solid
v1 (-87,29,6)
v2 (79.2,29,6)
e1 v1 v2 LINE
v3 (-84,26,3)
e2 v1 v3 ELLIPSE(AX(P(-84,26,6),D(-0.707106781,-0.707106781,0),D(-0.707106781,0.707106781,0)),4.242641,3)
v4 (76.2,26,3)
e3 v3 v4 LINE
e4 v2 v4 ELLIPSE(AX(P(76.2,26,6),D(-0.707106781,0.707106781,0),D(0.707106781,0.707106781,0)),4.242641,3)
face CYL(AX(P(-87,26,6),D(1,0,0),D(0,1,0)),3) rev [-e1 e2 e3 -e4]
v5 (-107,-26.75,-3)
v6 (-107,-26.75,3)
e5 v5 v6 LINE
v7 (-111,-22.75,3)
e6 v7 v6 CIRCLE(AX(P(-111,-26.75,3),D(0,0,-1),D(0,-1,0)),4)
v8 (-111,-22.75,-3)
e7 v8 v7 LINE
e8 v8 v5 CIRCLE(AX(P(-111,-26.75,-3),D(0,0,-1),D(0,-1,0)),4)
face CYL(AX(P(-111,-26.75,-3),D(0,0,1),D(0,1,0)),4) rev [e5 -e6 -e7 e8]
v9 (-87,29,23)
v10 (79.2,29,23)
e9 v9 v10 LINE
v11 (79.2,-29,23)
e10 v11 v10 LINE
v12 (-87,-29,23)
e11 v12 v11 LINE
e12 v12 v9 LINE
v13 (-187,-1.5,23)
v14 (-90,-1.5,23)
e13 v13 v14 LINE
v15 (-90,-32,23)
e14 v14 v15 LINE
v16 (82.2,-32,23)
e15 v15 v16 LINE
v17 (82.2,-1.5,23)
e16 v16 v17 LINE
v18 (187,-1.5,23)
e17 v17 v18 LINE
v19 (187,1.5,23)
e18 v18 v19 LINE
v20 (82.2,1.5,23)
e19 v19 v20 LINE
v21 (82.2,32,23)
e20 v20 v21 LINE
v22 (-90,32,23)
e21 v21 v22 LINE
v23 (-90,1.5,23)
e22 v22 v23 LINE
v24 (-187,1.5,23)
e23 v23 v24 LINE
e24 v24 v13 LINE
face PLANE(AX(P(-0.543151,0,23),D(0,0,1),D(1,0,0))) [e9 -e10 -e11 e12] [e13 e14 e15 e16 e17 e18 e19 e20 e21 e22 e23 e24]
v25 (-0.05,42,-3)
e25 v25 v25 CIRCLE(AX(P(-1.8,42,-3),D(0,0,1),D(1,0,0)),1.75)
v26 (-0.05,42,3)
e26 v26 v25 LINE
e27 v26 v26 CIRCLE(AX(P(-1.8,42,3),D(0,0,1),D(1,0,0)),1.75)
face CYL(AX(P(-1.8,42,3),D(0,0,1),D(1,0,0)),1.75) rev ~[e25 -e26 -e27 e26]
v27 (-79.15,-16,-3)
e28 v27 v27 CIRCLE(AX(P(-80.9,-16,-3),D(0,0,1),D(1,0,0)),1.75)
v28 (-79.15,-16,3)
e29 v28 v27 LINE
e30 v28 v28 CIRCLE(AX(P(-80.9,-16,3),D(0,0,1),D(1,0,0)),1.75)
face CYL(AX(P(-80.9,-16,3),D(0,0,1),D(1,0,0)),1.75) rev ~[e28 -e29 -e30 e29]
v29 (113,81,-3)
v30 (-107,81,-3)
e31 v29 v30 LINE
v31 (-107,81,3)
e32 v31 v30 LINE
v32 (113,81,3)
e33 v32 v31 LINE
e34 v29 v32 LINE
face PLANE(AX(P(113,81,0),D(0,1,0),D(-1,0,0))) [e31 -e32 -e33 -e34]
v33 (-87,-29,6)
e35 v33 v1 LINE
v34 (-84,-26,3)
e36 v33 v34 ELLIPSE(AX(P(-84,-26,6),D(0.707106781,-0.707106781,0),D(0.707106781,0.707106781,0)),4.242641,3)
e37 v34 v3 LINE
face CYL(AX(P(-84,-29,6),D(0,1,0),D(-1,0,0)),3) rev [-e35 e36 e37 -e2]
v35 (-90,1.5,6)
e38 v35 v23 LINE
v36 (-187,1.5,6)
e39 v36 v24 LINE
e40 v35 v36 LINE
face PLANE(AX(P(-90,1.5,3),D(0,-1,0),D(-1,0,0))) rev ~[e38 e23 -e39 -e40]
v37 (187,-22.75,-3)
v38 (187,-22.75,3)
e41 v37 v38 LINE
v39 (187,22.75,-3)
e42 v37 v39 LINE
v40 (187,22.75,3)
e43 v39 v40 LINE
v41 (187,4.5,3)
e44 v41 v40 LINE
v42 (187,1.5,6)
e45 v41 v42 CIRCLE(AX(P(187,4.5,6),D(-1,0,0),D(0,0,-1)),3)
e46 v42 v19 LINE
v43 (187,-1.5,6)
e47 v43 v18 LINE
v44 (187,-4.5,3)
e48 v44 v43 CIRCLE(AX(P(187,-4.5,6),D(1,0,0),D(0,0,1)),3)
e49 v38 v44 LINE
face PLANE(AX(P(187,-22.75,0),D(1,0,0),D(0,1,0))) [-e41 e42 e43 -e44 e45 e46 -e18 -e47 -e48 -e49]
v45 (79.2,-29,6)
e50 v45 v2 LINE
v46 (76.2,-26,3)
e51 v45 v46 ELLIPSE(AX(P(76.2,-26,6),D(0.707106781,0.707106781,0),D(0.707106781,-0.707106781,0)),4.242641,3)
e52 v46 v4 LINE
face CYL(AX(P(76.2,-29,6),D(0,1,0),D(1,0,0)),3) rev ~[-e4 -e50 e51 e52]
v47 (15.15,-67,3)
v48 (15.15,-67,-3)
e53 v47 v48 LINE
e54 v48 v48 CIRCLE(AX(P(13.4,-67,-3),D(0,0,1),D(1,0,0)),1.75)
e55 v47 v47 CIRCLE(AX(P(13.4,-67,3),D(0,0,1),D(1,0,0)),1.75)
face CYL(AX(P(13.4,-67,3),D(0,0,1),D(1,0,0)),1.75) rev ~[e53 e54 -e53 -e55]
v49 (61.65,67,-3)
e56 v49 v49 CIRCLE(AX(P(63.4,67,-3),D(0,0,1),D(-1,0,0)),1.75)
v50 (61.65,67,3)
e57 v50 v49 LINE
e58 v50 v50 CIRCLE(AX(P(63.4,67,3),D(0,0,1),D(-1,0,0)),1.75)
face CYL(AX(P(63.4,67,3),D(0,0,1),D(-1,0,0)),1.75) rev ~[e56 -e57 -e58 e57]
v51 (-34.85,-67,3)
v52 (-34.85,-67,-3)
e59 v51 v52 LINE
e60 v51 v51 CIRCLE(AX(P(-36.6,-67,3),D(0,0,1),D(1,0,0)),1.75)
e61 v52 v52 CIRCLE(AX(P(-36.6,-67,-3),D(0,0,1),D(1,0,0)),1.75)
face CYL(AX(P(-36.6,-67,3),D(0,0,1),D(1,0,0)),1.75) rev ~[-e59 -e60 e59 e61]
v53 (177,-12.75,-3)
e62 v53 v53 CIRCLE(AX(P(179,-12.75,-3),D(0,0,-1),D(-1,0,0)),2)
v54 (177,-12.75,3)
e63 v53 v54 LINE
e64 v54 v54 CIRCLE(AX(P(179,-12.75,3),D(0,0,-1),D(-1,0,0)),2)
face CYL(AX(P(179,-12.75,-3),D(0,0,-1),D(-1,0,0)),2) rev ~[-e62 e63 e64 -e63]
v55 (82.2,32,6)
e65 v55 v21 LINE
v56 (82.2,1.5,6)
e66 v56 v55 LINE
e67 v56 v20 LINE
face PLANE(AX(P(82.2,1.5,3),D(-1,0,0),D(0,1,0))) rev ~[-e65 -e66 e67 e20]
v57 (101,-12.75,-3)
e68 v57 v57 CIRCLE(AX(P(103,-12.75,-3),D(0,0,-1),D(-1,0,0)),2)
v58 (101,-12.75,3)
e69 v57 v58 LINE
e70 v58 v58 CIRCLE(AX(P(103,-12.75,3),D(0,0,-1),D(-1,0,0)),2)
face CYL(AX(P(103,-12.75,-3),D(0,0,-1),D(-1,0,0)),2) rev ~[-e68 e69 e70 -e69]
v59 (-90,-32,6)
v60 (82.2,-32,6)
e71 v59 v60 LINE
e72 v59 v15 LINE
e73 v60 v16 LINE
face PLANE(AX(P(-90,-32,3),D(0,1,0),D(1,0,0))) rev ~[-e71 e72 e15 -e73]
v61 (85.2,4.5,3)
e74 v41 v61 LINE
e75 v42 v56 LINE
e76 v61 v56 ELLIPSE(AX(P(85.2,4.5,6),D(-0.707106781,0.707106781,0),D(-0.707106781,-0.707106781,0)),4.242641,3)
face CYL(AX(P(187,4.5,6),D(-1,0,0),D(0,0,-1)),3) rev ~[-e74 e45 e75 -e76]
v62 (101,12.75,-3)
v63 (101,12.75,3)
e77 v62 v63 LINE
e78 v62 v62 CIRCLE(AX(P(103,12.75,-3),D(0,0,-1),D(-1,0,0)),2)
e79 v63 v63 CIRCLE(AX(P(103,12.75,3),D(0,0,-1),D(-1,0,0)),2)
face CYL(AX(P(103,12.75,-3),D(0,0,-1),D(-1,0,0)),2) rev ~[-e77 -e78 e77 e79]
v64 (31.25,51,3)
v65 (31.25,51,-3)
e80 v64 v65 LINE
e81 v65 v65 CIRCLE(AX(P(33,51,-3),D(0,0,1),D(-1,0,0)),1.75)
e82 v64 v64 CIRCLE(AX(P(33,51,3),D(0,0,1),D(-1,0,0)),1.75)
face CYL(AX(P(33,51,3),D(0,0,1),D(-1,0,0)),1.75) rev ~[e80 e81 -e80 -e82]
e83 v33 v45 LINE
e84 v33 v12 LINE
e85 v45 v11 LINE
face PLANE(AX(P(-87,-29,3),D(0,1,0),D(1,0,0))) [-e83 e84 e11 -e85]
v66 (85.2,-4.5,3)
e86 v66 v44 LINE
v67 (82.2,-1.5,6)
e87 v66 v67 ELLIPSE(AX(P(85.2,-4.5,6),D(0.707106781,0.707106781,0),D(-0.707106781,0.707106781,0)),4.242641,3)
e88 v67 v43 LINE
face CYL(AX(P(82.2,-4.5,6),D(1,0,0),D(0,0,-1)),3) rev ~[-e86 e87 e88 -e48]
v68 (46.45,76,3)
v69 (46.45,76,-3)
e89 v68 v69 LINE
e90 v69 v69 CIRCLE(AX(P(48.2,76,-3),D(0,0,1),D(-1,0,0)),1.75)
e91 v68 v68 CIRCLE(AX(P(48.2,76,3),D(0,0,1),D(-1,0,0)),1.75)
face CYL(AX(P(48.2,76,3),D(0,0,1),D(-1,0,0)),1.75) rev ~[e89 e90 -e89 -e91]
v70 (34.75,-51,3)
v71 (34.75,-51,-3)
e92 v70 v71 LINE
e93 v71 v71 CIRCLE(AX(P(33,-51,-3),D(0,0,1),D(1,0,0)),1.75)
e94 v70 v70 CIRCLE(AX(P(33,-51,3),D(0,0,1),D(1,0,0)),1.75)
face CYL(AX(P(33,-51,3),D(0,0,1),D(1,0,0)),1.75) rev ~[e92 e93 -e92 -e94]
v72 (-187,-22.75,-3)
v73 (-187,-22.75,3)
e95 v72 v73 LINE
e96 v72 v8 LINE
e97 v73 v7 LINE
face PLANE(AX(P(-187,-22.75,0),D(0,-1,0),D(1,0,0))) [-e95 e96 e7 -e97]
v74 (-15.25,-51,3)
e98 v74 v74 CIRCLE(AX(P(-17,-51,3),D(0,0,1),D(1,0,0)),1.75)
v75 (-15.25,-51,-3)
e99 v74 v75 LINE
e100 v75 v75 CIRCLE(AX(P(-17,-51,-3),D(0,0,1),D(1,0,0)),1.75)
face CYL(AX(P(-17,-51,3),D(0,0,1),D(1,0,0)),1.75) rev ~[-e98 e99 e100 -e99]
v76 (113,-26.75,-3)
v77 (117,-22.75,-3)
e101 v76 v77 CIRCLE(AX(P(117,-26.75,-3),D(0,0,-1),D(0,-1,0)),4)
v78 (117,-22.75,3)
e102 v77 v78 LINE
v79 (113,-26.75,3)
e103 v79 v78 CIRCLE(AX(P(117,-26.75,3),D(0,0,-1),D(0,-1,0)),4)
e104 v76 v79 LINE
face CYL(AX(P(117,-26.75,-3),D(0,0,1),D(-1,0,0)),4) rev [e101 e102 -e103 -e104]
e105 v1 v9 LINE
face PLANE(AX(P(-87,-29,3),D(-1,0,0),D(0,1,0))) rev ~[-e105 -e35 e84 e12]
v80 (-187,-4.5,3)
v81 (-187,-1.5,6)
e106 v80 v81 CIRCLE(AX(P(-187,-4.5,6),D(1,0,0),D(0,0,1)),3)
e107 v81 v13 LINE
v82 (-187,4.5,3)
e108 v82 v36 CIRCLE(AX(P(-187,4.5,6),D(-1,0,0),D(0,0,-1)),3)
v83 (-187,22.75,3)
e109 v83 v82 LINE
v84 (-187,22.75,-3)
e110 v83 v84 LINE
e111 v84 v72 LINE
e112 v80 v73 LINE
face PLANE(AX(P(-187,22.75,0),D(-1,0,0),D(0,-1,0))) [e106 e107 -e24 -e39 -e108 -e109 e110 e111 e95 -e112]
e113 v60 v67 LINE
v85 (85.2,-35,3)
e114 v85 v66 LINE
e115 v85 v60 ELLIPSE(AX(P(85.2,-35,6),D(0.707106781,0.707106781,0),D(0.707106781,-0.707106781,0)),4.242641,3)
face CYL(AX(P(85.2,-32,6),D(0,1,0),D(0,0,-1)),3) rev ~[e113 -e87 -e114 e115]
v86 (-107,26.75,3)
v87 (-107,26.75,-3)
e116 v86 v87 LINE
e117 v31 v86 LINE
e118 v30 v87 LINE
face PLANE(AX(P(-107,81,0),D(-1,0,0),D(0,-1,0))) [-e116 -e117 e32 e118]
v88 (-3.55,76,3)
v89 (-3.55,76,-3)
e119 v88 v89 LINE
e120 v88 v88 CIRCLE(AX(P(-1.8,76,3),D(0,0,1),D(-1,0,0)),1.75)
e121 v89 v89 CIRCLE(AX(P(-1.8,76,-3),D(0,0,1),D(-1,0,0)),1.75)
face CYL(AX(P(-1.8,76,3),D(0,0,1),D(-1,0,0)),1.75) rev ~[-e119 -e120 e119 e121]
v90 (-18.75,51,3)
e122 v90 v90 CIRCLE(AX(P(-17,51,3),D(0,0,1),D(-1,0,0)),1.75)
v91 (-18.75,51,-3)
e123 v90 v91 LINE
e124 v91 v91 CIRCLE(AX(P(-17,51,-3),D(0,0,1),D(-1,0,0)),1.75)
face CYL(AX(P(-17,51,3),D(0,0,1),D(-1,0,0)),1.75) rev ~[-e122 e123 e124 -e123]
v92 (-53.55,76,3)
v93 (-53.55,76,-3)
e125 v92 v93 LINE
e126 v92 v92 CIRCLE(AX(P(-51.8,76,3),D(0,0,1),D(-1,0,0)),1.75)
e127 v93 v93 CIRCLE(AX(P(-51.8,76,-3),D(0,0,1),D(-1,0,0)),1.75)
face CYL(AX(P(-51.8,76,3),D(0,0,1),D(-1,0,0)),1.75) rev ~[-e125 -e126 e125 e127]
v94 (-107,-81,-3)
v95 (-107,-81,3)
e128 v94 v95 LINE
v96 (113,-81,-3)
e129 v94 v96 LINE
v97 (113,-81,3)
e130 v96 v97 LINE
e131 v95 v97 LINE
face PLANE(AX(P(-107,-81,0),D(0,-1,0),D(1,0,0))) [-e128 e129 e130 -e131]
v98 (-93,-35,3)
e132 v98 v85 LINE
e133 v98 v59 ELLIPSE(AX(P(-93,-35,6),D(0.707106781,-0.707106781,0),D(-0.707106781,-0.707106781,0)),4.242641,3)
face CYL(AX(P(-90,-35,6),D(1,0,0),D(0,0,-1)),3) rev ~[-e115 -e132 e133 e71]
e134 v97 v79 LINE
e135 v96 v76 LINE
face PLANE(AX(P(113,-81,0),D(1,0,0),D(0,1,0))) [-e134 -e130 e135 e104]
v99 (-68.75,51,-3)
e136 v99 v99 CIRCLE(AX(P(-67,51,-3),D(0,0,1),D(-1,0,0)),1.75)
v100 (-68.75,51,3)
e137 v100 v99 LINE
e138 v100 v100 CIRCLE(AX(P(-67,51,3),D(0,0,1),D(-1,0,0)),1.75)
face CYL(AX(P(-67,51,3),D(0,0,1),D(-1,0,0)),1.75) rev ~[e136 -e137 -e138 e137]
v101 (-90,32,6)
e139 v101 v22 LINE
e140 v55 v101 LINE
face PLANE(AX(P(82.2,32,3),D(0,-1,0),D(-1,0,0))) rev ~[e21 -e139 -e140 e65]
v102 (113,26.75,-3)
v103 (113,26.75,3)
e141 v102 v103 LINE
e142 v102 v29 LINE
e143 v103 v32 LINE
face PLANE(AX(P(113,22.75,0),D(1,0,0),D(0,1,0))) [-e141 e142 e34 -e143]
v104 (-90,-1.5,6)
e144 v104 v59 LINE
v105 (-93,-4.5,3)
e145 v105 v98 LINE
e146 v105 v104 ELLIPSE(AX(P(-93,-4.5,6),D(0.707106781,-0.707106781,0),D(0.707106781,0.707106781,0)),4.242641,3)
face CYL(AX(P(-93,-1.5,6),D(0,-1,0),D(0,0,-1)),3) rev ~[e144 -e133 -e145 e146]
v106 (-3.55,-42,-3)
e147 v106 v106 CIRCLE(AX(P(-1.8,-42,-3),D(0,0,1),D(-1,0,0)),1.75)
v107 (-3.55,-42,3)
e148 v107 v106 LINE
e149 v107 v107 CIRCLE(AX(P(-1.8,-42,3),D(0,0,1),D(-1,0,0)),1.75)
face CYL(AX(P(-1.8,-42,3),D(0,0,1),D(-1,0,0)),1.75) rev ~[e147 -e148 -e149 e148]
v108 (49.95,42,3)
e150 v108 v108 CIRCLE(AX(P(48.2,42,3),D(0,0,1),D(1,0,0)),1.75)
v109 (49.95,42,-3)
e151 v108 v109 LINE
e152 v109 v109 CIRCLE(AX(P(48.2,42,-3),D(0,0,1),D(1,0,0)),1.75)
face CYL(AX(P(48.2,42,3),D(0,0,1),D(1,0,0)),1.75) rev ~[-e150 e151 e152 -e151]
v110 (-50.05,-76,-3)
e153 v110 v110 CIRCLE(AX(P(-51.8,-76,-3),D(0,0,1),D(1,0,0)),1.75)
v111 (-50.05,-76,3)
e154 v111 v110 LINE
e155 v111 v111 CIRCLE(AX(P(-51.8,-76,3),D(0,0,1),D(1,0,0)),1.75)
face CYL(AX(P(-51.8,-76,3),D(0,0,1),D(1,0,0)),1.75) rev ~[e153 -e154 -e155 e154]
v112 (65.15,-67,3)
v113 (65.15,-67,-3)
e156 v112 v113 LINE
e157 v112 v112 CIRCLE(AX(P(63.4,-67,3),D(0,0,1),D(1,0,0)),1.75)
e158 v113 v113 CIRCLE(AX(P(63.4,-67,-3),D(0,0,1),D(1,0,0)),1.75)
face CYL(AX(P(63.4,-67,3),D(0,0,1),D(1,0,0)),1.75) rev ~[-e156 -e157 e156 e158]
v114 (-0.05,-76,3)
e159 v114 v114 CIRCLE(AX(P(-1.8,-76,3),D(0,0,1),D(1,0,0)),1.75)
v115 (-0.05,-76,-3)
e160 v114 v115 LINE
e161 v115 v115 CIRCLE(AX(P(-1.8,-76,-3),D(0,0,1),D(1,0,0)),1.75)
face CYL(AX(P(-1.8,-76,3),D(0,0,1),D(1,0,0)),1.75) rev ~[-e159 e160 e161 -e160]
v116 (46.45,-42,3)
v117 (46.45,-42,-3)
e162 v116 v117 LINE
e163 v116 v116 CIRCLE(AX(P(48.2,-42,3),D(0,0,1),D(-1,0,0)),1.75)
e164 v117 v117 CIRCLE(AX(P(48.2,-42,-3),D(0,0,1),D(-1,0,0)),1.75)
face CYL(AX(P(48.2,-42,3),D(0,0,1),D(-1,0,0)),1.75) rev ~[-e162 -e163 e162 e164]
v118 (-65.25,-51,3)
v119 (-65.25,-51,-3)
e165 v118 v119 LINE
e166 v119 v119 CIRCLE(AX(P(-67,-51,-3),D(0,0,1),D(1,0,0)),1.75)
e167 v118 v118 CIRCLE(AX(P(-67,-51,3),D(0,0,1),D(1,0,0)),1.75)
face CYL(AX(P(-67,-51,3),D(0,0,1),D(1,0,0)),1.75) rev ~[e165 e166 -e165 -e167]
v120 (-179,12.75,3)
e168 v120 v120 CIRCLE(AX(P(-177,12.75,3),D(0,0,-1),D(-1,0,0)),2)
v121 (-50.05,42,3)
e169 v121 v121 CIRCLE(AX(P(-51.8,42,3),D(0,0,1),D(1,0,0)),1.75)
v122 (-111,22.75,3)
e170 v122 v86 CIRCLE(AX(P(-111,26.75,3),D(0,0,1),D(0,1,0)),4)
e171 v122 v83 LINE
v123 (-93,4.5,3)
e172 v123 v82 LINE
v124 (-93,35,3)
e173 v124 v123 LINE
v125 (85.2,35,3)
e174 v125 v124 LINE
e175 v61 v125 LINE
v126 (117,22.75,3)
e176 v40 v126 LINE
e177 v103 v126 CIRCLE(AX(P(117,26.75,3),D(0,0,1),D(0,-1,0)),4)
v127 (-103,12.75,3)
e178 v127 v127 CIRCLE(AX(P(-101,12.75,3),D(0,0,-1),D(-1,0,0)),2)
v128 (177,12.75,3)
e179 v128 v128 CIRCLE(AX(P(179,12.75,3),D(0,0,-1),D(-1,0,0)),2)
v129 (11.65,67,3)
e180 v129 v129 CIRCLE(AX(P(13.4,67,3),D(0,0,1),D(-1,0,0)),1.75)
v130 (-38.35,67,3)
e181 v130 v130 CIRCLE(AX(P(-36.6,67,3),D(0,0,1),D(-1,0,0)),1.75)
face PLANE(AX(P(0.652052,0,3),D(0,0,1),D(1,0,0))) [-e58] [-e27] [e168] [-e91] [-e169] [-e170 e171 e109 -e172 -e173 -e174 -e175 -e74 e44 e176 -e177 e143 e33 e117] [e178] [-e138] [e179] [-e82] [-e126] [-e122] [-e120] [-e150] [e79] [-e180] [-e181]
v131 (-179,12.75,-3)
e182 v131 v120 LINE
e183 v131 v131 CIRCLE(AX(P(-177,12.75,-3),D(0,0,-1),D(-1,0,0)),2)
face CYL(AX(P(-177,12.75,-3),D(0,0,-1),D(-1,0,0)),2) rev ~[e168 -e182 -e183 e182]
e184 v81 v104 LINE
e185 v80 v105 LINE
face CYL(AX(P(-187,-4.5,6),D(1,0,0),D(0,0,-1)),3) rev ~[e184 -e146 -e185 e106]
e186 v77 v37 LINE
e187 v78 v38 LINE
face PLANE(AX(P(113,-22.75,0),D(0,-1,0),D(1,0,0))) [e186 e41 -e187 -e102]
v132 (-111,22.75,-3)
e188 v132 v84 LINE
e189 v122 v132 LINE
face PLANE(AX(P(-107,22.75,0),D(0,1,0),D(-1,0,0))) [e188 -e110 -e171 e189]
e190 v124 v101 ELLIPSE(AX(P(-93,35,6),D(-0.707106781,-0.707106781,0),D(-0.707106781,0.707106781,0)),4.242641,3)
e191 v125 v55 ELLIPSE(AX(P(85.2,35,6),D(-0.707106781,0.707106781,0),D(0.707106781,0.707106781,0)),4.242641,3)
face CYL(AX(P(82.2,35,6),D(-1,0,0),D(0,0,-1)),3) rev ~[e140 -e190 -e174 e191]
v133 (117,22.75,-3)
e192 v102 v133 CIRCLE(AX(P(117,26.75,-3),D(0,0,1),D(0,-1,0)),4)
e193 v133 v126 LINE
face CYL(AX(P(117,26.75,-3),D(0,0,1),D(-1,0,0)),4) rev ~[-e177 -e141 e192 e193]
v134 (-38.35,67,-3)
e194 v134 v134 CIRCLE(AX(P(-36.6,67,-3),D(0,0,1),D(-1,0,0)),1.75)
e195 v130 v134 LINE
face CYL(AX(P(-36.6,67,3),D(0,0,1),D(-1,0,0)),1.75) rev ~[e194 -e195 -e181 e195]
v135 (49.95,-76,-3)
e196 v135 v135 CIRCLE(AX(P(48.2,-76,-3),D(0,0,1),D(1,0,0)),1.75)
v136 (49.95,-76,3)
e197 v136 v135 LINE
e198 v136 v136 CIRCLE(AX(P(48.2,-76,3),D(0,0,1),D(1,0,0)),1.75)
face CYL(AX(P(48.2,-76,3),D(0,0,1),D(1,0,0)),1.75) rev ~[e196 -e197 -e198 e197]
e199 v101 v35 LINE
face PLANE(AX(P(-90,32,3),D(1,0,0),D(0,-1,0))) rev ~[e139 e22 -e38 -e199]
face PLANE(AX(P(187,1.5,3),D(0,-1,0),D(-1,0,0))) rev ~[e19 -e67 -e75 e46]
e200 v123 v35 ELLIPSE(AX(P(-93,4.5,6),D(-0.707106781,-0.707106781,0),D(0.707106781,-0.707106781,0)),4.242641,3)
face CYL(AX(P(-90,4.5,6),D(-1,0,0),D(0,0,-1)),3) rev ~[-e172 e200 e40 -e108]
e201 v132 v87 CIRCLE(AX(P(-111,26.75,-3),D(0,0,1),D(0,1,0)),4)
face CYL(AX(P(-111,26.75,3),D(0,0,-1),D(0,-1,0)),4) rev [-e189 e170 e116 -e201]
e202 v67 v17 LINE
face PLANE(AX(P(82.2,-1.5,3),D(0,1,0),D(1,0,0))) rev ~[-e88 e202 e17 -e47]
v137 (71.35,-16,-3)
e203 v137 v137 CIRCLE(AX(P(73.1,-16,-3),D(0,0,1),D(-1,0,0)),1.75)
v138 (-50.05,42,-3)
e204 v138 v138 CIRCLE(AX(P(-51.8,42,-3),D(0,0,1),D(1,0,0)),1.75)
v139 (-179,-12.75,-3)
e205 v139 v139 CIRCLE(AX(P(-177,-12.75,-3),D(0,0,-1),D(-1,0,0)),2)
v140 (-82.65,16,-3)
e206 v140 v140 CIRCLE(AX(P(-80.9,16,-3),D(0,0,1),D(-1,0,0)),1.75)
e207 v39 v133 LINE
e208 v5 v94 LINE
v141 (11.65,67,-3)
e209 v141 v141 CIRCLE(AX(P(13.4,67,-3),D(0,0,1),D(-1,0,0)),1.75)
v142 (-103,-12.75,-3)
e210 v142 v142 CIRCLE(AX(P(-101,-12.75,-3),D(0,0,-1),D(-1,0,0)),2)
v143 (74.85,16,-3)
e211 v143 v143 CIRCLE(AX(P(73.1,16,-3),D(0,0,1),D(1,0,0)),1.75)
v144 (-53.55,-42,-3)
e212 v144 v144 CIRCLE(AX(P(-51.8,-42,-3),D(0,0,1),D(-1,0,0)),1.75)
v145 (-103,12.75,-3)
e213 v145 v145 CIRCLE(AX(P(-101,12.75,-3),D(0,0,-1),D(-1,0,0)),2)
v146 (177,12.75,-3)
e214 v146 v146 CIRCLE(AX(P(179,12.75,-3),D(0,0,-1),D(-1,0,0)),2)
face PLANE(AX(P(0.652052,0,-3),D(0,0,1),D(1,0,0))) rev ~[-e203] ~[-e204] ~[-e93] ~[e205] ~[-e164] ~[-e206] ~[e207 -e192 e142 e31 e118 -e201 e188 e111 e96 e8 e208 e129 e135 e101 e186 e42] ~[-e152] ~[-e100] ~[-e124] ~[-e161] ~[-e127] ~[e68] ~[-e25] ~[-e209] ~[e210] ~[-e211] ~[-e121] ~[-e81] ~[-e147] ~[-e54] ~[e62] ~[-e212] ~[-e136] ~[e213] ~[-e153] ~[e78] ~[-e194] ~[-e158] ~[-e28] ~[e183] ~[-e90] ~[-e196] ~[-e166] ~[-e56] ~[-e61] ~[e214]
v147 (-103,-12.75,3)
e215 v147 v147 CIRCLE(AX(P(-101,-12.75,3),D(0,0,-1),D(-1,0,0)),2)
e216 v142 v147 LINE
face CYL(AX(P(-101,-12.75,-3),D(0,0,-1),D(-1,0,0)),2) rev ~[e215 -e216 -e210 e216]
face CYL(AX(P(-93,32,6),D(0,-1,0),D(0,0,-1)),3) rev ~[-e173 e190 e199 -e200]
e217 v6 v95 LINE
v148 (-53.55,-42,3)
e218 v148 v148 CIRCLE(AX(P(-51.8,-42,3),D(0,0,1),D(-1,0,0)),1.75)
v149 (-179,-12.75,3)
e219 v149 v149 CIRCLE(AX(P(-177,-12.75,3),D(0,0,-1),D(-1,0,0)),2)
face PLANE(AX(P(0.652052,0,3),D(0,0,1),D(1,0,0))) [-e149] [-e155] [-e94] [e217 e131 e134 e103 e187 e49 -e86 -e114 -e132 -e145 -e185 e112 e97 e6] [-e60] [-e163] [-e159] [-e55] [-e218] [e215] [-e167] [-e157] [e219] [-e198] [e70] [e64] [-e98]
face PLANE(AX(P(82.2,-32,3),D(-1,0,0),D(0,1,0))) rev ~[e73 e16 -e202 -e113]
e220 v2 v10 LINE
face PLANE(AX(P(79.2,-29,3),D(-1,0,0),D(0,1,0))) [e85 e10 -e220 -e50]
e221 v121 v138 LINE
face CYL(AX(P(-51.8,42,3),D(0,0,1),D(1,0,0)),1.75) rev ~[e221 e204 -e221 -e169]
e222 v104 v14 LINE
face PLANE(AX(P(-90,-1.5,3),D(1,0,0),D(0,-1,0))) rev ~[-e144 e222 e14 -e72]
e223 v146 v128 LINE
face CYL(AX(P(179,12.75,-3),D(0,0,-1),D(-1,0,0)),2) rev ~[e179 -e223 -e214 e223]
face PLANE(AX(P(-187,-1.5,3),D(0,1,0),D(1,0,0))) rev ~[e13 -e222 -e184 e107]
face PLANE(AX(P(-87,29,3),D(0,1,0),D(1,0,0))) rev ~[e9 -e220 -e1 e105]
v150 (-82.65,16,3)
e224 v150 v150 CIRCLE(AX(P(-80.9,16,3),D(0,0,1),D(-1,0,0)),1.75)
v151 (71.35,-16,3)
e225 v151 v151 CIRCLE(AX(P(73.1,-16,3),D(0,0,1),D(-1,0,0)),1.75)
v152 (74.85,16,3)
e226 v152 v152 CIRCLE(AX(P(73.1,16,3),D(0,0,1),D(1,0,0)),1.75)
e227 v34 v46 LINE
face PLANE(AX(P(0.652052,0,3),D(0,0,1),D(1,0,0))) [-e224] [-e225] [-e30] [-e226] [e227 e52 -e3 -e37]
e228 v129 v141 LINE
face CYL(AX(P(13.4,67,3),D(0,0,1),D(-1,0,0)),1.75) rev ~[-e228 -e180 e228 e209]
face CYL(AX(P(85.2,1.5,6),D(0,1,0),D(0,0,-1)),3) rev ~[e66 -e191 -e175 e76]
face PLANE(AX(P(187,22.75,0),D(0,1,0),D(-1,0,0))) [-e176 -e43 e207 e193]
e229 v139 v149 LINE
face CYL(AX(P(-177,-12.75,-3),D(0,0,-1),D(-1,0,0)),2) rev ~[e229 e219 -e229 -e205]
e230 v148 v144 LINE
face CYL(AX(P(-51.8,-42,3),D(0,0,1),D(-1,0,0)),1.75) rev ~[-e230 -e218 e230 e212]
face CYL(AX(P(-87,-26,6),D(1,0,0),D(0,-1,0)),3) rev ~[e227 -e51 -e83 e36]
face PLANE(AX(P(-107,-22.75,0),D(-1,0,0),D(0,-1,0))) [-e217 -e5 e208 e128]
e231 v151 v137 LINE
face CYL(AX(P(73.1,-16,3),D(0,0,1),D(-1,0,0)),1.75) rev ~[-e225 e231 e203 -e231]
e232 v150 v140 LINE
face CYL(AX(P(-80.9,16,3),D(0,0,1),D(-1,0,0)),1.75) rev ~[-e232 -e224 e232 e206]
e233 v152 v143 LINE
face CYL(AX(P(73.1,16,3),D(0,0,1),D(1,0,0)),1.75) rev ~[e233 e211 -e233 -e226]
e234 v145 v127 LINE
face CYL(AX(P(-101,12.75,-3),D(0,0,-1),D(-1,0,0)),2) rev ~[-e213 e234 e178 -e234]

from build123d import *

# Parameters (mm, degrees)
BOSS_EXTRUDE1_DEPTH = 3
SKETCH3_W           = 166.2
SKETCH3_H           = 58
BOSS_EXTRUDE2_DEPTH = 20
SKETCH4_R           = 1.75
CUT_EXTRUDE1_DEPTH  = 205.768161588
FILLET1_R           = 4
FILLET2_R           = 3
CUT_EXTRUDE2_REACH  = 207.441
SKETCH5_R           = 2
SKETCH6_R           = 1.75
CUT_EXTRUDE3_DEPTH  = 205.768161588
SKETCH8_R           = 1.75
CUT_EXTRUDE5_DEPTH  = 205.768161588


with BuildPart() as part:
    # Sketch2 → Boss-Extrude1 (new, symmetric)
    with BuildSketch(Plane.XY):
        Polygon((-187, 22.75), (-187, -22.75), (-107, -22.75), (-107, -81), (113, -81), (113, -22.75), (187, -22.75), (187, 22.75), (113, 22.75), (113, 81), (-107, 81), (-107, 22.75), align=None)
    extrude(amount=BOSS_EXTRUDE1_DEPTH, both=True)

    # Sketch3 → Boss-Extrude2 (add)
    with BuildSketch(Plane.XY.offset(3)):
        Polygon((-187, -1.5), (-90, -1.5), (-90, -32), (82.2, -32), (82.2, -1.5), (187, -1.5), (187, 1.5), (82.2, 1.5), (82.2, 32), (-90, 32), (-90, 1.5), (-187, 1.5), align=None)
        with Locations((-3.9, 0)):
            Rectangle(SKETCH3_W, SKETCH3_H, mode=Mode.SUBTRACT)
    extrude(amount=BOSS_EXTRUDE2_DEPTH)

    # Sketch4 → Cut-Extrude1 (cut, through all)
    with BuildSketch(Plane.XY.offset(3)):
        with Locations((-36.6, -67)):
            Circle(SKETCH4_R)
        with Locations((-67, -51)):
            Circle(SKETCH4_R)
        with Locations((13.4, -67)):
            Circle(SKETCH4_R)
        with Locations((-17, -51)):
            Circle(SKETCH4_R)
        with Locations((63.4, -67)):
            Circle(SKETCH4_R)
        with Locations((33, -51)):
            Circle(SKETCH4_R)
        with Locations(Location((33, 51, 0), (0, 0, 180))):
            Circle(SKETCH4_R)
        with Locations(Location((63.4, 67, 0), (0, 0, 180))):
            Circle(SKETCH4_R)
        with Locations(Location((-17, 51, 0), (0, 0, 180))):
            Circle(SKETCH4_R)
        with Locations(Location((13.4, 67, 0), (0, 0, 180))):
            Circle(SKETCH4_R)
        with Locations(Location((-67, 51, 0), (0, 0, 180))):
            Circle(SKETCH4_R)
        with Locations(Location((-36.6, 67, 0), (0, 0, 180))):
            Circle(SKETCH4_R)
    extrude(amount=-CUT_EXTRUDE1_DEPTH, mode=Mode.SUBTRACT)

    # Fillet1
    fillet1_edges = [part.edges().sort_by_distance(p)[0] for p in [
        (-107, -22.75, 0),
        (-107, 22.75, 0),
        (113, 22.75, 0),
        (113, -22.75, 0),
    ]]
    fillet(fillet1_edges, radius=FILLET1_R)

    # Fillet2
    fillet2_edges = [part.edges().sort_by_distance(p)[0] for p in [
        (-87, 0, 3),
        (-3.9, -29, 3),
        (79.2, 0, 3),
        (-3.9, 29, 3),
        (-138.5, -1.5, 3),
        (-90, -16.75, 3),
        (-3.9, -32, 3),
        (82.2, -16.75, 3),
        (134.6, -1.5, 3),
        (134.6, 1.5, 3),
        (82.2, 16.75, 3),
        (-3.9, 32, 3),
        (-90, 16.75, 3),
        (-138.5, 1.5, 3),
    ]]
    fillet(fillet2_edges, radius=FILLET2_R)

    # Sketch5 → Cut-Extrude2 (cut, up to next)
    with BuildSketch(Plane(origin=(0, 0, -3), x_dir=(-1, 0, 0), z_dir=(0, 0, -1)), mode=Mode.PRIVATE) as cut_extrude2_sk1:
        with Locations((-103, -12.75)):
            Circle(SKETCH5_R)
    cut_extrude2_tool1 = extrude(cut_extrude2_sk1.sketch, amount=-CUT_EXTRUDE2_REACH, mode=Mode.PRIVATE) & part.part
    # Sketch5 → Cut-Extrude2 (cut, up to next)
    with BuildSketch(Plane(origin=(0, 0, -3), x_dir=(-1, 0, 0), z_dir=(0, 0, -1)), mode=Mode.PRIVATE) as cut_extrude2_sk2:
        with Locations((-103, 12.75)):
            Circle(SKETCH5_R)
    cut_extrude2_tool2 = extrude(cut_extrude2_sk2.sketch, amount=-CUT_EXTRUDE2_REACH, mode=Mode.PRIVATE) & part.part
    # Sketch5 → Cut-Extrude2 (cut, up to next)
    with BuildSketch(Plane(origin=(0, 0, -3), x_dir=(-1, 0, 0), z_dir=(0, 0, -1)), mode=Mode.PRIVATE) as cut_extrude2_sk3:
        with Locations((-179, 12.75)):
            Circle(SKETCH5_R)
    cut_extrude2_tool3 = extrude(cut_extrude2_sk3.sketch, amount=-CUT_EXTRUDE2_REACH, mode=Mode.PRIVATE) & part.part
    # Sketch5 → Cut-Extrude2 (cut, up to next)
    with BuildSketch(Plane(origin=(0, 0, -3), x_dir=(-1, 0, 0), z_dir=(0, 0, -1)), mode=Mode.PRIVATE) as cut_extrude2_sk4:
        with Locations((-179, -12.75)):
            Circle(SKETCH5_R)
    cut_extrude2_tool4 = extrude(cut_extrude2_sk4.sketch, amount=-CUT_EXTRUDE2_REACH, mode=Mode.PRIVATE) & part.part
    # Sketch5 → Cut-Extrude2 (cut, up to next)
    with BuildSketch(Plane(origin=(0, 0, -3), x_dir=(-1, 0, 0), z_dir=(0, 0, -1)), mode=Mode.PRIVATE) as cut_extrude2_sk5:
        with Locations((177, 12.75)):
            Circle(SKETCH5_R)
    cut_extrude2_tool5 = extrude(cut_extrude2_sk5.sketch, amount=-CUT_EXTRUDE2_REACH, mode=Mode.PRIVATE) & part.part
    # Sketch5 → Cut-Extrude2 (cut, up to next)
    with BuildSketch(Plane(origin=(0, 0, -3), x_dir=(-1, 0, 0), z_dir=(0, 0, -1)), mode=Mode.PRIVATE) as cut_extrude2_sk6:
        with Locations((177, -12.75)):
            Circle(SKETCH5_R)
    cut_extrude2_tool6 = extrude(cut_extrude2_sk6.sketch, amount=-CUT_EXTRUDE2_REACH, mode=Mode.PRIVATE) & part.part
    # Sketch5 → Cut-Extrude2 (cut, up to next)
    with BuildSketch(Plane(origin=(0, 0, -3), x_dir=(-1, 0, 0), z_dir=(0, 0, -1)), mode=Mode.PRIVATE) as cut_extrude2_sk7:
        with Locations((101, -12.75)):
            Circle(SKETCH5_R)
    cut_extrude2_tool7 = extrude(cut_extrude2_sk7.sketch, amount=-CUT_EXTRUDE2_REACH, mode=Mode.PRIVATE) & part.part
    # Sketch5 → Cut-Extrude2 (cut, up to next)
    with BuildSketch(Plane(origin=(0, 0, -3), x_dir=(-1, 0, 0), z_dir=(0, 0, -1)), mode=Mode.PRIVATE) as cut_extrude2_sk8:
        with Locations((101, 12.75)):
            Circle(SKETCH5_R)
    cut_extrude2_tool8 = extrude(cut_extrude2_sk8.sketch, amount=-CUT_EXTRUDE2_REACH, mode=Mode.PRIVATE) & part.part
    add(cut_extrude2_tool1.solids().sort_by_distance((103, -12.75, -3))[0], mode=Mode.SUBTRACT)
    add(cut_extrude2_tool2.solids().sort_by_distance((103, 12.75, -3))[0], mode=Mode.SUBTRACT)
    add(cut_extrude2_tool3.solids().sort_by_distance((179, 12.75, -3))[0], mode=Mode.SUBTRACT)
    add(cut_extrude2_tool4.solids().sort_by_distance((179, -12.75, -3))[0], mode=Mode.SUBTRACT)
    add(cut_extrude2_tool5.solids().sort_by_distance((-177, 12.75, -3))[0], mode=Mode.SUBTRACT)
    add(cut_extrude2_tool6.solids().sort_by_distance((-177, -12.75, -3))[0], mode=Mode.SUBTRACT)
    add(cut_extrude2_tool7.solids().sort_by_distance((-101, -12.75, -3))[0], mode=Mode.SUBTRACT)
    add(cut_extrude2_tool8.solids().sort_by_distance((-101, 12.75, -3))[0], mode=Mode.SUBTRACT)

    # Sketch6 → Cut-Extrude3 (cut, through all)
    with BuildSketch(Plane.XY.offset(3)):
        with Locations((-51.8, -76)):
            Circle(SKETCH6_R)
        with Locations(Location((-51.8, -42, 0), (0, 0, 180))):
            Circle(SKETCH6_R)
        with Locations((-1.8, -76)):
            Circle(SKETCH6_R)
        with Locations(Location((-1.8, -42, 0), (0, 0, 180))):
            Circle(SKETCH6_R)
        with Locations((48.2, -76)):
            Circle(SKETCH6_R)
        with Locations(Location((48.2, -42, 0), (0, 0, 180))):
            Circle(SKETCH6_R)
        with Locations((48.2, 42)):
            Circle(SKETCH6_R)
        with Locations(Location((48.2, 76, 0), (0, 0, 180))):
            Circle(SKETCH6_R)
        with Locations((-1.8, 42)):
            Circle(SKETCH6_R)
        with Locations(Location((-1.8, 76, 0), (0, 0, 180))):
            Circle(SKETCH6_R)
        with Locations((-51.8, 42)):
            Circle(SKETCH6_R)
        with Locations(Location((-51.8, 76, 0), (0, 0, 180))):
            Circle(SKETCH6_R)
    extrude(amount=-CUT_EXTRUDE3_DEPTH, mode=Mode.SUBTRACT)

    # Sketch8 → Cut-Extrude5 (cut, through all)
    with BuildSketch(Plane.XY.offset(3)):
        with Locations((-80.9, -16)):
            Circle(SKETCH8_R)
        with Locations(Location((-80.9, 16, 0), (0, 0, 180))):
            Circle(SKETCH8_R)
        with Locations((73.1, 16)):
            Circle(SKETCH8_R)
        with Locations(Location((73.1, -16, 0), (0, 0, 180))):
            Circle(SKETCH8_R)
    extrude(amount=-CUT_EXTRUDE5_DEPTH, mode=Mode.SUBTRACT)


solid = part.part
